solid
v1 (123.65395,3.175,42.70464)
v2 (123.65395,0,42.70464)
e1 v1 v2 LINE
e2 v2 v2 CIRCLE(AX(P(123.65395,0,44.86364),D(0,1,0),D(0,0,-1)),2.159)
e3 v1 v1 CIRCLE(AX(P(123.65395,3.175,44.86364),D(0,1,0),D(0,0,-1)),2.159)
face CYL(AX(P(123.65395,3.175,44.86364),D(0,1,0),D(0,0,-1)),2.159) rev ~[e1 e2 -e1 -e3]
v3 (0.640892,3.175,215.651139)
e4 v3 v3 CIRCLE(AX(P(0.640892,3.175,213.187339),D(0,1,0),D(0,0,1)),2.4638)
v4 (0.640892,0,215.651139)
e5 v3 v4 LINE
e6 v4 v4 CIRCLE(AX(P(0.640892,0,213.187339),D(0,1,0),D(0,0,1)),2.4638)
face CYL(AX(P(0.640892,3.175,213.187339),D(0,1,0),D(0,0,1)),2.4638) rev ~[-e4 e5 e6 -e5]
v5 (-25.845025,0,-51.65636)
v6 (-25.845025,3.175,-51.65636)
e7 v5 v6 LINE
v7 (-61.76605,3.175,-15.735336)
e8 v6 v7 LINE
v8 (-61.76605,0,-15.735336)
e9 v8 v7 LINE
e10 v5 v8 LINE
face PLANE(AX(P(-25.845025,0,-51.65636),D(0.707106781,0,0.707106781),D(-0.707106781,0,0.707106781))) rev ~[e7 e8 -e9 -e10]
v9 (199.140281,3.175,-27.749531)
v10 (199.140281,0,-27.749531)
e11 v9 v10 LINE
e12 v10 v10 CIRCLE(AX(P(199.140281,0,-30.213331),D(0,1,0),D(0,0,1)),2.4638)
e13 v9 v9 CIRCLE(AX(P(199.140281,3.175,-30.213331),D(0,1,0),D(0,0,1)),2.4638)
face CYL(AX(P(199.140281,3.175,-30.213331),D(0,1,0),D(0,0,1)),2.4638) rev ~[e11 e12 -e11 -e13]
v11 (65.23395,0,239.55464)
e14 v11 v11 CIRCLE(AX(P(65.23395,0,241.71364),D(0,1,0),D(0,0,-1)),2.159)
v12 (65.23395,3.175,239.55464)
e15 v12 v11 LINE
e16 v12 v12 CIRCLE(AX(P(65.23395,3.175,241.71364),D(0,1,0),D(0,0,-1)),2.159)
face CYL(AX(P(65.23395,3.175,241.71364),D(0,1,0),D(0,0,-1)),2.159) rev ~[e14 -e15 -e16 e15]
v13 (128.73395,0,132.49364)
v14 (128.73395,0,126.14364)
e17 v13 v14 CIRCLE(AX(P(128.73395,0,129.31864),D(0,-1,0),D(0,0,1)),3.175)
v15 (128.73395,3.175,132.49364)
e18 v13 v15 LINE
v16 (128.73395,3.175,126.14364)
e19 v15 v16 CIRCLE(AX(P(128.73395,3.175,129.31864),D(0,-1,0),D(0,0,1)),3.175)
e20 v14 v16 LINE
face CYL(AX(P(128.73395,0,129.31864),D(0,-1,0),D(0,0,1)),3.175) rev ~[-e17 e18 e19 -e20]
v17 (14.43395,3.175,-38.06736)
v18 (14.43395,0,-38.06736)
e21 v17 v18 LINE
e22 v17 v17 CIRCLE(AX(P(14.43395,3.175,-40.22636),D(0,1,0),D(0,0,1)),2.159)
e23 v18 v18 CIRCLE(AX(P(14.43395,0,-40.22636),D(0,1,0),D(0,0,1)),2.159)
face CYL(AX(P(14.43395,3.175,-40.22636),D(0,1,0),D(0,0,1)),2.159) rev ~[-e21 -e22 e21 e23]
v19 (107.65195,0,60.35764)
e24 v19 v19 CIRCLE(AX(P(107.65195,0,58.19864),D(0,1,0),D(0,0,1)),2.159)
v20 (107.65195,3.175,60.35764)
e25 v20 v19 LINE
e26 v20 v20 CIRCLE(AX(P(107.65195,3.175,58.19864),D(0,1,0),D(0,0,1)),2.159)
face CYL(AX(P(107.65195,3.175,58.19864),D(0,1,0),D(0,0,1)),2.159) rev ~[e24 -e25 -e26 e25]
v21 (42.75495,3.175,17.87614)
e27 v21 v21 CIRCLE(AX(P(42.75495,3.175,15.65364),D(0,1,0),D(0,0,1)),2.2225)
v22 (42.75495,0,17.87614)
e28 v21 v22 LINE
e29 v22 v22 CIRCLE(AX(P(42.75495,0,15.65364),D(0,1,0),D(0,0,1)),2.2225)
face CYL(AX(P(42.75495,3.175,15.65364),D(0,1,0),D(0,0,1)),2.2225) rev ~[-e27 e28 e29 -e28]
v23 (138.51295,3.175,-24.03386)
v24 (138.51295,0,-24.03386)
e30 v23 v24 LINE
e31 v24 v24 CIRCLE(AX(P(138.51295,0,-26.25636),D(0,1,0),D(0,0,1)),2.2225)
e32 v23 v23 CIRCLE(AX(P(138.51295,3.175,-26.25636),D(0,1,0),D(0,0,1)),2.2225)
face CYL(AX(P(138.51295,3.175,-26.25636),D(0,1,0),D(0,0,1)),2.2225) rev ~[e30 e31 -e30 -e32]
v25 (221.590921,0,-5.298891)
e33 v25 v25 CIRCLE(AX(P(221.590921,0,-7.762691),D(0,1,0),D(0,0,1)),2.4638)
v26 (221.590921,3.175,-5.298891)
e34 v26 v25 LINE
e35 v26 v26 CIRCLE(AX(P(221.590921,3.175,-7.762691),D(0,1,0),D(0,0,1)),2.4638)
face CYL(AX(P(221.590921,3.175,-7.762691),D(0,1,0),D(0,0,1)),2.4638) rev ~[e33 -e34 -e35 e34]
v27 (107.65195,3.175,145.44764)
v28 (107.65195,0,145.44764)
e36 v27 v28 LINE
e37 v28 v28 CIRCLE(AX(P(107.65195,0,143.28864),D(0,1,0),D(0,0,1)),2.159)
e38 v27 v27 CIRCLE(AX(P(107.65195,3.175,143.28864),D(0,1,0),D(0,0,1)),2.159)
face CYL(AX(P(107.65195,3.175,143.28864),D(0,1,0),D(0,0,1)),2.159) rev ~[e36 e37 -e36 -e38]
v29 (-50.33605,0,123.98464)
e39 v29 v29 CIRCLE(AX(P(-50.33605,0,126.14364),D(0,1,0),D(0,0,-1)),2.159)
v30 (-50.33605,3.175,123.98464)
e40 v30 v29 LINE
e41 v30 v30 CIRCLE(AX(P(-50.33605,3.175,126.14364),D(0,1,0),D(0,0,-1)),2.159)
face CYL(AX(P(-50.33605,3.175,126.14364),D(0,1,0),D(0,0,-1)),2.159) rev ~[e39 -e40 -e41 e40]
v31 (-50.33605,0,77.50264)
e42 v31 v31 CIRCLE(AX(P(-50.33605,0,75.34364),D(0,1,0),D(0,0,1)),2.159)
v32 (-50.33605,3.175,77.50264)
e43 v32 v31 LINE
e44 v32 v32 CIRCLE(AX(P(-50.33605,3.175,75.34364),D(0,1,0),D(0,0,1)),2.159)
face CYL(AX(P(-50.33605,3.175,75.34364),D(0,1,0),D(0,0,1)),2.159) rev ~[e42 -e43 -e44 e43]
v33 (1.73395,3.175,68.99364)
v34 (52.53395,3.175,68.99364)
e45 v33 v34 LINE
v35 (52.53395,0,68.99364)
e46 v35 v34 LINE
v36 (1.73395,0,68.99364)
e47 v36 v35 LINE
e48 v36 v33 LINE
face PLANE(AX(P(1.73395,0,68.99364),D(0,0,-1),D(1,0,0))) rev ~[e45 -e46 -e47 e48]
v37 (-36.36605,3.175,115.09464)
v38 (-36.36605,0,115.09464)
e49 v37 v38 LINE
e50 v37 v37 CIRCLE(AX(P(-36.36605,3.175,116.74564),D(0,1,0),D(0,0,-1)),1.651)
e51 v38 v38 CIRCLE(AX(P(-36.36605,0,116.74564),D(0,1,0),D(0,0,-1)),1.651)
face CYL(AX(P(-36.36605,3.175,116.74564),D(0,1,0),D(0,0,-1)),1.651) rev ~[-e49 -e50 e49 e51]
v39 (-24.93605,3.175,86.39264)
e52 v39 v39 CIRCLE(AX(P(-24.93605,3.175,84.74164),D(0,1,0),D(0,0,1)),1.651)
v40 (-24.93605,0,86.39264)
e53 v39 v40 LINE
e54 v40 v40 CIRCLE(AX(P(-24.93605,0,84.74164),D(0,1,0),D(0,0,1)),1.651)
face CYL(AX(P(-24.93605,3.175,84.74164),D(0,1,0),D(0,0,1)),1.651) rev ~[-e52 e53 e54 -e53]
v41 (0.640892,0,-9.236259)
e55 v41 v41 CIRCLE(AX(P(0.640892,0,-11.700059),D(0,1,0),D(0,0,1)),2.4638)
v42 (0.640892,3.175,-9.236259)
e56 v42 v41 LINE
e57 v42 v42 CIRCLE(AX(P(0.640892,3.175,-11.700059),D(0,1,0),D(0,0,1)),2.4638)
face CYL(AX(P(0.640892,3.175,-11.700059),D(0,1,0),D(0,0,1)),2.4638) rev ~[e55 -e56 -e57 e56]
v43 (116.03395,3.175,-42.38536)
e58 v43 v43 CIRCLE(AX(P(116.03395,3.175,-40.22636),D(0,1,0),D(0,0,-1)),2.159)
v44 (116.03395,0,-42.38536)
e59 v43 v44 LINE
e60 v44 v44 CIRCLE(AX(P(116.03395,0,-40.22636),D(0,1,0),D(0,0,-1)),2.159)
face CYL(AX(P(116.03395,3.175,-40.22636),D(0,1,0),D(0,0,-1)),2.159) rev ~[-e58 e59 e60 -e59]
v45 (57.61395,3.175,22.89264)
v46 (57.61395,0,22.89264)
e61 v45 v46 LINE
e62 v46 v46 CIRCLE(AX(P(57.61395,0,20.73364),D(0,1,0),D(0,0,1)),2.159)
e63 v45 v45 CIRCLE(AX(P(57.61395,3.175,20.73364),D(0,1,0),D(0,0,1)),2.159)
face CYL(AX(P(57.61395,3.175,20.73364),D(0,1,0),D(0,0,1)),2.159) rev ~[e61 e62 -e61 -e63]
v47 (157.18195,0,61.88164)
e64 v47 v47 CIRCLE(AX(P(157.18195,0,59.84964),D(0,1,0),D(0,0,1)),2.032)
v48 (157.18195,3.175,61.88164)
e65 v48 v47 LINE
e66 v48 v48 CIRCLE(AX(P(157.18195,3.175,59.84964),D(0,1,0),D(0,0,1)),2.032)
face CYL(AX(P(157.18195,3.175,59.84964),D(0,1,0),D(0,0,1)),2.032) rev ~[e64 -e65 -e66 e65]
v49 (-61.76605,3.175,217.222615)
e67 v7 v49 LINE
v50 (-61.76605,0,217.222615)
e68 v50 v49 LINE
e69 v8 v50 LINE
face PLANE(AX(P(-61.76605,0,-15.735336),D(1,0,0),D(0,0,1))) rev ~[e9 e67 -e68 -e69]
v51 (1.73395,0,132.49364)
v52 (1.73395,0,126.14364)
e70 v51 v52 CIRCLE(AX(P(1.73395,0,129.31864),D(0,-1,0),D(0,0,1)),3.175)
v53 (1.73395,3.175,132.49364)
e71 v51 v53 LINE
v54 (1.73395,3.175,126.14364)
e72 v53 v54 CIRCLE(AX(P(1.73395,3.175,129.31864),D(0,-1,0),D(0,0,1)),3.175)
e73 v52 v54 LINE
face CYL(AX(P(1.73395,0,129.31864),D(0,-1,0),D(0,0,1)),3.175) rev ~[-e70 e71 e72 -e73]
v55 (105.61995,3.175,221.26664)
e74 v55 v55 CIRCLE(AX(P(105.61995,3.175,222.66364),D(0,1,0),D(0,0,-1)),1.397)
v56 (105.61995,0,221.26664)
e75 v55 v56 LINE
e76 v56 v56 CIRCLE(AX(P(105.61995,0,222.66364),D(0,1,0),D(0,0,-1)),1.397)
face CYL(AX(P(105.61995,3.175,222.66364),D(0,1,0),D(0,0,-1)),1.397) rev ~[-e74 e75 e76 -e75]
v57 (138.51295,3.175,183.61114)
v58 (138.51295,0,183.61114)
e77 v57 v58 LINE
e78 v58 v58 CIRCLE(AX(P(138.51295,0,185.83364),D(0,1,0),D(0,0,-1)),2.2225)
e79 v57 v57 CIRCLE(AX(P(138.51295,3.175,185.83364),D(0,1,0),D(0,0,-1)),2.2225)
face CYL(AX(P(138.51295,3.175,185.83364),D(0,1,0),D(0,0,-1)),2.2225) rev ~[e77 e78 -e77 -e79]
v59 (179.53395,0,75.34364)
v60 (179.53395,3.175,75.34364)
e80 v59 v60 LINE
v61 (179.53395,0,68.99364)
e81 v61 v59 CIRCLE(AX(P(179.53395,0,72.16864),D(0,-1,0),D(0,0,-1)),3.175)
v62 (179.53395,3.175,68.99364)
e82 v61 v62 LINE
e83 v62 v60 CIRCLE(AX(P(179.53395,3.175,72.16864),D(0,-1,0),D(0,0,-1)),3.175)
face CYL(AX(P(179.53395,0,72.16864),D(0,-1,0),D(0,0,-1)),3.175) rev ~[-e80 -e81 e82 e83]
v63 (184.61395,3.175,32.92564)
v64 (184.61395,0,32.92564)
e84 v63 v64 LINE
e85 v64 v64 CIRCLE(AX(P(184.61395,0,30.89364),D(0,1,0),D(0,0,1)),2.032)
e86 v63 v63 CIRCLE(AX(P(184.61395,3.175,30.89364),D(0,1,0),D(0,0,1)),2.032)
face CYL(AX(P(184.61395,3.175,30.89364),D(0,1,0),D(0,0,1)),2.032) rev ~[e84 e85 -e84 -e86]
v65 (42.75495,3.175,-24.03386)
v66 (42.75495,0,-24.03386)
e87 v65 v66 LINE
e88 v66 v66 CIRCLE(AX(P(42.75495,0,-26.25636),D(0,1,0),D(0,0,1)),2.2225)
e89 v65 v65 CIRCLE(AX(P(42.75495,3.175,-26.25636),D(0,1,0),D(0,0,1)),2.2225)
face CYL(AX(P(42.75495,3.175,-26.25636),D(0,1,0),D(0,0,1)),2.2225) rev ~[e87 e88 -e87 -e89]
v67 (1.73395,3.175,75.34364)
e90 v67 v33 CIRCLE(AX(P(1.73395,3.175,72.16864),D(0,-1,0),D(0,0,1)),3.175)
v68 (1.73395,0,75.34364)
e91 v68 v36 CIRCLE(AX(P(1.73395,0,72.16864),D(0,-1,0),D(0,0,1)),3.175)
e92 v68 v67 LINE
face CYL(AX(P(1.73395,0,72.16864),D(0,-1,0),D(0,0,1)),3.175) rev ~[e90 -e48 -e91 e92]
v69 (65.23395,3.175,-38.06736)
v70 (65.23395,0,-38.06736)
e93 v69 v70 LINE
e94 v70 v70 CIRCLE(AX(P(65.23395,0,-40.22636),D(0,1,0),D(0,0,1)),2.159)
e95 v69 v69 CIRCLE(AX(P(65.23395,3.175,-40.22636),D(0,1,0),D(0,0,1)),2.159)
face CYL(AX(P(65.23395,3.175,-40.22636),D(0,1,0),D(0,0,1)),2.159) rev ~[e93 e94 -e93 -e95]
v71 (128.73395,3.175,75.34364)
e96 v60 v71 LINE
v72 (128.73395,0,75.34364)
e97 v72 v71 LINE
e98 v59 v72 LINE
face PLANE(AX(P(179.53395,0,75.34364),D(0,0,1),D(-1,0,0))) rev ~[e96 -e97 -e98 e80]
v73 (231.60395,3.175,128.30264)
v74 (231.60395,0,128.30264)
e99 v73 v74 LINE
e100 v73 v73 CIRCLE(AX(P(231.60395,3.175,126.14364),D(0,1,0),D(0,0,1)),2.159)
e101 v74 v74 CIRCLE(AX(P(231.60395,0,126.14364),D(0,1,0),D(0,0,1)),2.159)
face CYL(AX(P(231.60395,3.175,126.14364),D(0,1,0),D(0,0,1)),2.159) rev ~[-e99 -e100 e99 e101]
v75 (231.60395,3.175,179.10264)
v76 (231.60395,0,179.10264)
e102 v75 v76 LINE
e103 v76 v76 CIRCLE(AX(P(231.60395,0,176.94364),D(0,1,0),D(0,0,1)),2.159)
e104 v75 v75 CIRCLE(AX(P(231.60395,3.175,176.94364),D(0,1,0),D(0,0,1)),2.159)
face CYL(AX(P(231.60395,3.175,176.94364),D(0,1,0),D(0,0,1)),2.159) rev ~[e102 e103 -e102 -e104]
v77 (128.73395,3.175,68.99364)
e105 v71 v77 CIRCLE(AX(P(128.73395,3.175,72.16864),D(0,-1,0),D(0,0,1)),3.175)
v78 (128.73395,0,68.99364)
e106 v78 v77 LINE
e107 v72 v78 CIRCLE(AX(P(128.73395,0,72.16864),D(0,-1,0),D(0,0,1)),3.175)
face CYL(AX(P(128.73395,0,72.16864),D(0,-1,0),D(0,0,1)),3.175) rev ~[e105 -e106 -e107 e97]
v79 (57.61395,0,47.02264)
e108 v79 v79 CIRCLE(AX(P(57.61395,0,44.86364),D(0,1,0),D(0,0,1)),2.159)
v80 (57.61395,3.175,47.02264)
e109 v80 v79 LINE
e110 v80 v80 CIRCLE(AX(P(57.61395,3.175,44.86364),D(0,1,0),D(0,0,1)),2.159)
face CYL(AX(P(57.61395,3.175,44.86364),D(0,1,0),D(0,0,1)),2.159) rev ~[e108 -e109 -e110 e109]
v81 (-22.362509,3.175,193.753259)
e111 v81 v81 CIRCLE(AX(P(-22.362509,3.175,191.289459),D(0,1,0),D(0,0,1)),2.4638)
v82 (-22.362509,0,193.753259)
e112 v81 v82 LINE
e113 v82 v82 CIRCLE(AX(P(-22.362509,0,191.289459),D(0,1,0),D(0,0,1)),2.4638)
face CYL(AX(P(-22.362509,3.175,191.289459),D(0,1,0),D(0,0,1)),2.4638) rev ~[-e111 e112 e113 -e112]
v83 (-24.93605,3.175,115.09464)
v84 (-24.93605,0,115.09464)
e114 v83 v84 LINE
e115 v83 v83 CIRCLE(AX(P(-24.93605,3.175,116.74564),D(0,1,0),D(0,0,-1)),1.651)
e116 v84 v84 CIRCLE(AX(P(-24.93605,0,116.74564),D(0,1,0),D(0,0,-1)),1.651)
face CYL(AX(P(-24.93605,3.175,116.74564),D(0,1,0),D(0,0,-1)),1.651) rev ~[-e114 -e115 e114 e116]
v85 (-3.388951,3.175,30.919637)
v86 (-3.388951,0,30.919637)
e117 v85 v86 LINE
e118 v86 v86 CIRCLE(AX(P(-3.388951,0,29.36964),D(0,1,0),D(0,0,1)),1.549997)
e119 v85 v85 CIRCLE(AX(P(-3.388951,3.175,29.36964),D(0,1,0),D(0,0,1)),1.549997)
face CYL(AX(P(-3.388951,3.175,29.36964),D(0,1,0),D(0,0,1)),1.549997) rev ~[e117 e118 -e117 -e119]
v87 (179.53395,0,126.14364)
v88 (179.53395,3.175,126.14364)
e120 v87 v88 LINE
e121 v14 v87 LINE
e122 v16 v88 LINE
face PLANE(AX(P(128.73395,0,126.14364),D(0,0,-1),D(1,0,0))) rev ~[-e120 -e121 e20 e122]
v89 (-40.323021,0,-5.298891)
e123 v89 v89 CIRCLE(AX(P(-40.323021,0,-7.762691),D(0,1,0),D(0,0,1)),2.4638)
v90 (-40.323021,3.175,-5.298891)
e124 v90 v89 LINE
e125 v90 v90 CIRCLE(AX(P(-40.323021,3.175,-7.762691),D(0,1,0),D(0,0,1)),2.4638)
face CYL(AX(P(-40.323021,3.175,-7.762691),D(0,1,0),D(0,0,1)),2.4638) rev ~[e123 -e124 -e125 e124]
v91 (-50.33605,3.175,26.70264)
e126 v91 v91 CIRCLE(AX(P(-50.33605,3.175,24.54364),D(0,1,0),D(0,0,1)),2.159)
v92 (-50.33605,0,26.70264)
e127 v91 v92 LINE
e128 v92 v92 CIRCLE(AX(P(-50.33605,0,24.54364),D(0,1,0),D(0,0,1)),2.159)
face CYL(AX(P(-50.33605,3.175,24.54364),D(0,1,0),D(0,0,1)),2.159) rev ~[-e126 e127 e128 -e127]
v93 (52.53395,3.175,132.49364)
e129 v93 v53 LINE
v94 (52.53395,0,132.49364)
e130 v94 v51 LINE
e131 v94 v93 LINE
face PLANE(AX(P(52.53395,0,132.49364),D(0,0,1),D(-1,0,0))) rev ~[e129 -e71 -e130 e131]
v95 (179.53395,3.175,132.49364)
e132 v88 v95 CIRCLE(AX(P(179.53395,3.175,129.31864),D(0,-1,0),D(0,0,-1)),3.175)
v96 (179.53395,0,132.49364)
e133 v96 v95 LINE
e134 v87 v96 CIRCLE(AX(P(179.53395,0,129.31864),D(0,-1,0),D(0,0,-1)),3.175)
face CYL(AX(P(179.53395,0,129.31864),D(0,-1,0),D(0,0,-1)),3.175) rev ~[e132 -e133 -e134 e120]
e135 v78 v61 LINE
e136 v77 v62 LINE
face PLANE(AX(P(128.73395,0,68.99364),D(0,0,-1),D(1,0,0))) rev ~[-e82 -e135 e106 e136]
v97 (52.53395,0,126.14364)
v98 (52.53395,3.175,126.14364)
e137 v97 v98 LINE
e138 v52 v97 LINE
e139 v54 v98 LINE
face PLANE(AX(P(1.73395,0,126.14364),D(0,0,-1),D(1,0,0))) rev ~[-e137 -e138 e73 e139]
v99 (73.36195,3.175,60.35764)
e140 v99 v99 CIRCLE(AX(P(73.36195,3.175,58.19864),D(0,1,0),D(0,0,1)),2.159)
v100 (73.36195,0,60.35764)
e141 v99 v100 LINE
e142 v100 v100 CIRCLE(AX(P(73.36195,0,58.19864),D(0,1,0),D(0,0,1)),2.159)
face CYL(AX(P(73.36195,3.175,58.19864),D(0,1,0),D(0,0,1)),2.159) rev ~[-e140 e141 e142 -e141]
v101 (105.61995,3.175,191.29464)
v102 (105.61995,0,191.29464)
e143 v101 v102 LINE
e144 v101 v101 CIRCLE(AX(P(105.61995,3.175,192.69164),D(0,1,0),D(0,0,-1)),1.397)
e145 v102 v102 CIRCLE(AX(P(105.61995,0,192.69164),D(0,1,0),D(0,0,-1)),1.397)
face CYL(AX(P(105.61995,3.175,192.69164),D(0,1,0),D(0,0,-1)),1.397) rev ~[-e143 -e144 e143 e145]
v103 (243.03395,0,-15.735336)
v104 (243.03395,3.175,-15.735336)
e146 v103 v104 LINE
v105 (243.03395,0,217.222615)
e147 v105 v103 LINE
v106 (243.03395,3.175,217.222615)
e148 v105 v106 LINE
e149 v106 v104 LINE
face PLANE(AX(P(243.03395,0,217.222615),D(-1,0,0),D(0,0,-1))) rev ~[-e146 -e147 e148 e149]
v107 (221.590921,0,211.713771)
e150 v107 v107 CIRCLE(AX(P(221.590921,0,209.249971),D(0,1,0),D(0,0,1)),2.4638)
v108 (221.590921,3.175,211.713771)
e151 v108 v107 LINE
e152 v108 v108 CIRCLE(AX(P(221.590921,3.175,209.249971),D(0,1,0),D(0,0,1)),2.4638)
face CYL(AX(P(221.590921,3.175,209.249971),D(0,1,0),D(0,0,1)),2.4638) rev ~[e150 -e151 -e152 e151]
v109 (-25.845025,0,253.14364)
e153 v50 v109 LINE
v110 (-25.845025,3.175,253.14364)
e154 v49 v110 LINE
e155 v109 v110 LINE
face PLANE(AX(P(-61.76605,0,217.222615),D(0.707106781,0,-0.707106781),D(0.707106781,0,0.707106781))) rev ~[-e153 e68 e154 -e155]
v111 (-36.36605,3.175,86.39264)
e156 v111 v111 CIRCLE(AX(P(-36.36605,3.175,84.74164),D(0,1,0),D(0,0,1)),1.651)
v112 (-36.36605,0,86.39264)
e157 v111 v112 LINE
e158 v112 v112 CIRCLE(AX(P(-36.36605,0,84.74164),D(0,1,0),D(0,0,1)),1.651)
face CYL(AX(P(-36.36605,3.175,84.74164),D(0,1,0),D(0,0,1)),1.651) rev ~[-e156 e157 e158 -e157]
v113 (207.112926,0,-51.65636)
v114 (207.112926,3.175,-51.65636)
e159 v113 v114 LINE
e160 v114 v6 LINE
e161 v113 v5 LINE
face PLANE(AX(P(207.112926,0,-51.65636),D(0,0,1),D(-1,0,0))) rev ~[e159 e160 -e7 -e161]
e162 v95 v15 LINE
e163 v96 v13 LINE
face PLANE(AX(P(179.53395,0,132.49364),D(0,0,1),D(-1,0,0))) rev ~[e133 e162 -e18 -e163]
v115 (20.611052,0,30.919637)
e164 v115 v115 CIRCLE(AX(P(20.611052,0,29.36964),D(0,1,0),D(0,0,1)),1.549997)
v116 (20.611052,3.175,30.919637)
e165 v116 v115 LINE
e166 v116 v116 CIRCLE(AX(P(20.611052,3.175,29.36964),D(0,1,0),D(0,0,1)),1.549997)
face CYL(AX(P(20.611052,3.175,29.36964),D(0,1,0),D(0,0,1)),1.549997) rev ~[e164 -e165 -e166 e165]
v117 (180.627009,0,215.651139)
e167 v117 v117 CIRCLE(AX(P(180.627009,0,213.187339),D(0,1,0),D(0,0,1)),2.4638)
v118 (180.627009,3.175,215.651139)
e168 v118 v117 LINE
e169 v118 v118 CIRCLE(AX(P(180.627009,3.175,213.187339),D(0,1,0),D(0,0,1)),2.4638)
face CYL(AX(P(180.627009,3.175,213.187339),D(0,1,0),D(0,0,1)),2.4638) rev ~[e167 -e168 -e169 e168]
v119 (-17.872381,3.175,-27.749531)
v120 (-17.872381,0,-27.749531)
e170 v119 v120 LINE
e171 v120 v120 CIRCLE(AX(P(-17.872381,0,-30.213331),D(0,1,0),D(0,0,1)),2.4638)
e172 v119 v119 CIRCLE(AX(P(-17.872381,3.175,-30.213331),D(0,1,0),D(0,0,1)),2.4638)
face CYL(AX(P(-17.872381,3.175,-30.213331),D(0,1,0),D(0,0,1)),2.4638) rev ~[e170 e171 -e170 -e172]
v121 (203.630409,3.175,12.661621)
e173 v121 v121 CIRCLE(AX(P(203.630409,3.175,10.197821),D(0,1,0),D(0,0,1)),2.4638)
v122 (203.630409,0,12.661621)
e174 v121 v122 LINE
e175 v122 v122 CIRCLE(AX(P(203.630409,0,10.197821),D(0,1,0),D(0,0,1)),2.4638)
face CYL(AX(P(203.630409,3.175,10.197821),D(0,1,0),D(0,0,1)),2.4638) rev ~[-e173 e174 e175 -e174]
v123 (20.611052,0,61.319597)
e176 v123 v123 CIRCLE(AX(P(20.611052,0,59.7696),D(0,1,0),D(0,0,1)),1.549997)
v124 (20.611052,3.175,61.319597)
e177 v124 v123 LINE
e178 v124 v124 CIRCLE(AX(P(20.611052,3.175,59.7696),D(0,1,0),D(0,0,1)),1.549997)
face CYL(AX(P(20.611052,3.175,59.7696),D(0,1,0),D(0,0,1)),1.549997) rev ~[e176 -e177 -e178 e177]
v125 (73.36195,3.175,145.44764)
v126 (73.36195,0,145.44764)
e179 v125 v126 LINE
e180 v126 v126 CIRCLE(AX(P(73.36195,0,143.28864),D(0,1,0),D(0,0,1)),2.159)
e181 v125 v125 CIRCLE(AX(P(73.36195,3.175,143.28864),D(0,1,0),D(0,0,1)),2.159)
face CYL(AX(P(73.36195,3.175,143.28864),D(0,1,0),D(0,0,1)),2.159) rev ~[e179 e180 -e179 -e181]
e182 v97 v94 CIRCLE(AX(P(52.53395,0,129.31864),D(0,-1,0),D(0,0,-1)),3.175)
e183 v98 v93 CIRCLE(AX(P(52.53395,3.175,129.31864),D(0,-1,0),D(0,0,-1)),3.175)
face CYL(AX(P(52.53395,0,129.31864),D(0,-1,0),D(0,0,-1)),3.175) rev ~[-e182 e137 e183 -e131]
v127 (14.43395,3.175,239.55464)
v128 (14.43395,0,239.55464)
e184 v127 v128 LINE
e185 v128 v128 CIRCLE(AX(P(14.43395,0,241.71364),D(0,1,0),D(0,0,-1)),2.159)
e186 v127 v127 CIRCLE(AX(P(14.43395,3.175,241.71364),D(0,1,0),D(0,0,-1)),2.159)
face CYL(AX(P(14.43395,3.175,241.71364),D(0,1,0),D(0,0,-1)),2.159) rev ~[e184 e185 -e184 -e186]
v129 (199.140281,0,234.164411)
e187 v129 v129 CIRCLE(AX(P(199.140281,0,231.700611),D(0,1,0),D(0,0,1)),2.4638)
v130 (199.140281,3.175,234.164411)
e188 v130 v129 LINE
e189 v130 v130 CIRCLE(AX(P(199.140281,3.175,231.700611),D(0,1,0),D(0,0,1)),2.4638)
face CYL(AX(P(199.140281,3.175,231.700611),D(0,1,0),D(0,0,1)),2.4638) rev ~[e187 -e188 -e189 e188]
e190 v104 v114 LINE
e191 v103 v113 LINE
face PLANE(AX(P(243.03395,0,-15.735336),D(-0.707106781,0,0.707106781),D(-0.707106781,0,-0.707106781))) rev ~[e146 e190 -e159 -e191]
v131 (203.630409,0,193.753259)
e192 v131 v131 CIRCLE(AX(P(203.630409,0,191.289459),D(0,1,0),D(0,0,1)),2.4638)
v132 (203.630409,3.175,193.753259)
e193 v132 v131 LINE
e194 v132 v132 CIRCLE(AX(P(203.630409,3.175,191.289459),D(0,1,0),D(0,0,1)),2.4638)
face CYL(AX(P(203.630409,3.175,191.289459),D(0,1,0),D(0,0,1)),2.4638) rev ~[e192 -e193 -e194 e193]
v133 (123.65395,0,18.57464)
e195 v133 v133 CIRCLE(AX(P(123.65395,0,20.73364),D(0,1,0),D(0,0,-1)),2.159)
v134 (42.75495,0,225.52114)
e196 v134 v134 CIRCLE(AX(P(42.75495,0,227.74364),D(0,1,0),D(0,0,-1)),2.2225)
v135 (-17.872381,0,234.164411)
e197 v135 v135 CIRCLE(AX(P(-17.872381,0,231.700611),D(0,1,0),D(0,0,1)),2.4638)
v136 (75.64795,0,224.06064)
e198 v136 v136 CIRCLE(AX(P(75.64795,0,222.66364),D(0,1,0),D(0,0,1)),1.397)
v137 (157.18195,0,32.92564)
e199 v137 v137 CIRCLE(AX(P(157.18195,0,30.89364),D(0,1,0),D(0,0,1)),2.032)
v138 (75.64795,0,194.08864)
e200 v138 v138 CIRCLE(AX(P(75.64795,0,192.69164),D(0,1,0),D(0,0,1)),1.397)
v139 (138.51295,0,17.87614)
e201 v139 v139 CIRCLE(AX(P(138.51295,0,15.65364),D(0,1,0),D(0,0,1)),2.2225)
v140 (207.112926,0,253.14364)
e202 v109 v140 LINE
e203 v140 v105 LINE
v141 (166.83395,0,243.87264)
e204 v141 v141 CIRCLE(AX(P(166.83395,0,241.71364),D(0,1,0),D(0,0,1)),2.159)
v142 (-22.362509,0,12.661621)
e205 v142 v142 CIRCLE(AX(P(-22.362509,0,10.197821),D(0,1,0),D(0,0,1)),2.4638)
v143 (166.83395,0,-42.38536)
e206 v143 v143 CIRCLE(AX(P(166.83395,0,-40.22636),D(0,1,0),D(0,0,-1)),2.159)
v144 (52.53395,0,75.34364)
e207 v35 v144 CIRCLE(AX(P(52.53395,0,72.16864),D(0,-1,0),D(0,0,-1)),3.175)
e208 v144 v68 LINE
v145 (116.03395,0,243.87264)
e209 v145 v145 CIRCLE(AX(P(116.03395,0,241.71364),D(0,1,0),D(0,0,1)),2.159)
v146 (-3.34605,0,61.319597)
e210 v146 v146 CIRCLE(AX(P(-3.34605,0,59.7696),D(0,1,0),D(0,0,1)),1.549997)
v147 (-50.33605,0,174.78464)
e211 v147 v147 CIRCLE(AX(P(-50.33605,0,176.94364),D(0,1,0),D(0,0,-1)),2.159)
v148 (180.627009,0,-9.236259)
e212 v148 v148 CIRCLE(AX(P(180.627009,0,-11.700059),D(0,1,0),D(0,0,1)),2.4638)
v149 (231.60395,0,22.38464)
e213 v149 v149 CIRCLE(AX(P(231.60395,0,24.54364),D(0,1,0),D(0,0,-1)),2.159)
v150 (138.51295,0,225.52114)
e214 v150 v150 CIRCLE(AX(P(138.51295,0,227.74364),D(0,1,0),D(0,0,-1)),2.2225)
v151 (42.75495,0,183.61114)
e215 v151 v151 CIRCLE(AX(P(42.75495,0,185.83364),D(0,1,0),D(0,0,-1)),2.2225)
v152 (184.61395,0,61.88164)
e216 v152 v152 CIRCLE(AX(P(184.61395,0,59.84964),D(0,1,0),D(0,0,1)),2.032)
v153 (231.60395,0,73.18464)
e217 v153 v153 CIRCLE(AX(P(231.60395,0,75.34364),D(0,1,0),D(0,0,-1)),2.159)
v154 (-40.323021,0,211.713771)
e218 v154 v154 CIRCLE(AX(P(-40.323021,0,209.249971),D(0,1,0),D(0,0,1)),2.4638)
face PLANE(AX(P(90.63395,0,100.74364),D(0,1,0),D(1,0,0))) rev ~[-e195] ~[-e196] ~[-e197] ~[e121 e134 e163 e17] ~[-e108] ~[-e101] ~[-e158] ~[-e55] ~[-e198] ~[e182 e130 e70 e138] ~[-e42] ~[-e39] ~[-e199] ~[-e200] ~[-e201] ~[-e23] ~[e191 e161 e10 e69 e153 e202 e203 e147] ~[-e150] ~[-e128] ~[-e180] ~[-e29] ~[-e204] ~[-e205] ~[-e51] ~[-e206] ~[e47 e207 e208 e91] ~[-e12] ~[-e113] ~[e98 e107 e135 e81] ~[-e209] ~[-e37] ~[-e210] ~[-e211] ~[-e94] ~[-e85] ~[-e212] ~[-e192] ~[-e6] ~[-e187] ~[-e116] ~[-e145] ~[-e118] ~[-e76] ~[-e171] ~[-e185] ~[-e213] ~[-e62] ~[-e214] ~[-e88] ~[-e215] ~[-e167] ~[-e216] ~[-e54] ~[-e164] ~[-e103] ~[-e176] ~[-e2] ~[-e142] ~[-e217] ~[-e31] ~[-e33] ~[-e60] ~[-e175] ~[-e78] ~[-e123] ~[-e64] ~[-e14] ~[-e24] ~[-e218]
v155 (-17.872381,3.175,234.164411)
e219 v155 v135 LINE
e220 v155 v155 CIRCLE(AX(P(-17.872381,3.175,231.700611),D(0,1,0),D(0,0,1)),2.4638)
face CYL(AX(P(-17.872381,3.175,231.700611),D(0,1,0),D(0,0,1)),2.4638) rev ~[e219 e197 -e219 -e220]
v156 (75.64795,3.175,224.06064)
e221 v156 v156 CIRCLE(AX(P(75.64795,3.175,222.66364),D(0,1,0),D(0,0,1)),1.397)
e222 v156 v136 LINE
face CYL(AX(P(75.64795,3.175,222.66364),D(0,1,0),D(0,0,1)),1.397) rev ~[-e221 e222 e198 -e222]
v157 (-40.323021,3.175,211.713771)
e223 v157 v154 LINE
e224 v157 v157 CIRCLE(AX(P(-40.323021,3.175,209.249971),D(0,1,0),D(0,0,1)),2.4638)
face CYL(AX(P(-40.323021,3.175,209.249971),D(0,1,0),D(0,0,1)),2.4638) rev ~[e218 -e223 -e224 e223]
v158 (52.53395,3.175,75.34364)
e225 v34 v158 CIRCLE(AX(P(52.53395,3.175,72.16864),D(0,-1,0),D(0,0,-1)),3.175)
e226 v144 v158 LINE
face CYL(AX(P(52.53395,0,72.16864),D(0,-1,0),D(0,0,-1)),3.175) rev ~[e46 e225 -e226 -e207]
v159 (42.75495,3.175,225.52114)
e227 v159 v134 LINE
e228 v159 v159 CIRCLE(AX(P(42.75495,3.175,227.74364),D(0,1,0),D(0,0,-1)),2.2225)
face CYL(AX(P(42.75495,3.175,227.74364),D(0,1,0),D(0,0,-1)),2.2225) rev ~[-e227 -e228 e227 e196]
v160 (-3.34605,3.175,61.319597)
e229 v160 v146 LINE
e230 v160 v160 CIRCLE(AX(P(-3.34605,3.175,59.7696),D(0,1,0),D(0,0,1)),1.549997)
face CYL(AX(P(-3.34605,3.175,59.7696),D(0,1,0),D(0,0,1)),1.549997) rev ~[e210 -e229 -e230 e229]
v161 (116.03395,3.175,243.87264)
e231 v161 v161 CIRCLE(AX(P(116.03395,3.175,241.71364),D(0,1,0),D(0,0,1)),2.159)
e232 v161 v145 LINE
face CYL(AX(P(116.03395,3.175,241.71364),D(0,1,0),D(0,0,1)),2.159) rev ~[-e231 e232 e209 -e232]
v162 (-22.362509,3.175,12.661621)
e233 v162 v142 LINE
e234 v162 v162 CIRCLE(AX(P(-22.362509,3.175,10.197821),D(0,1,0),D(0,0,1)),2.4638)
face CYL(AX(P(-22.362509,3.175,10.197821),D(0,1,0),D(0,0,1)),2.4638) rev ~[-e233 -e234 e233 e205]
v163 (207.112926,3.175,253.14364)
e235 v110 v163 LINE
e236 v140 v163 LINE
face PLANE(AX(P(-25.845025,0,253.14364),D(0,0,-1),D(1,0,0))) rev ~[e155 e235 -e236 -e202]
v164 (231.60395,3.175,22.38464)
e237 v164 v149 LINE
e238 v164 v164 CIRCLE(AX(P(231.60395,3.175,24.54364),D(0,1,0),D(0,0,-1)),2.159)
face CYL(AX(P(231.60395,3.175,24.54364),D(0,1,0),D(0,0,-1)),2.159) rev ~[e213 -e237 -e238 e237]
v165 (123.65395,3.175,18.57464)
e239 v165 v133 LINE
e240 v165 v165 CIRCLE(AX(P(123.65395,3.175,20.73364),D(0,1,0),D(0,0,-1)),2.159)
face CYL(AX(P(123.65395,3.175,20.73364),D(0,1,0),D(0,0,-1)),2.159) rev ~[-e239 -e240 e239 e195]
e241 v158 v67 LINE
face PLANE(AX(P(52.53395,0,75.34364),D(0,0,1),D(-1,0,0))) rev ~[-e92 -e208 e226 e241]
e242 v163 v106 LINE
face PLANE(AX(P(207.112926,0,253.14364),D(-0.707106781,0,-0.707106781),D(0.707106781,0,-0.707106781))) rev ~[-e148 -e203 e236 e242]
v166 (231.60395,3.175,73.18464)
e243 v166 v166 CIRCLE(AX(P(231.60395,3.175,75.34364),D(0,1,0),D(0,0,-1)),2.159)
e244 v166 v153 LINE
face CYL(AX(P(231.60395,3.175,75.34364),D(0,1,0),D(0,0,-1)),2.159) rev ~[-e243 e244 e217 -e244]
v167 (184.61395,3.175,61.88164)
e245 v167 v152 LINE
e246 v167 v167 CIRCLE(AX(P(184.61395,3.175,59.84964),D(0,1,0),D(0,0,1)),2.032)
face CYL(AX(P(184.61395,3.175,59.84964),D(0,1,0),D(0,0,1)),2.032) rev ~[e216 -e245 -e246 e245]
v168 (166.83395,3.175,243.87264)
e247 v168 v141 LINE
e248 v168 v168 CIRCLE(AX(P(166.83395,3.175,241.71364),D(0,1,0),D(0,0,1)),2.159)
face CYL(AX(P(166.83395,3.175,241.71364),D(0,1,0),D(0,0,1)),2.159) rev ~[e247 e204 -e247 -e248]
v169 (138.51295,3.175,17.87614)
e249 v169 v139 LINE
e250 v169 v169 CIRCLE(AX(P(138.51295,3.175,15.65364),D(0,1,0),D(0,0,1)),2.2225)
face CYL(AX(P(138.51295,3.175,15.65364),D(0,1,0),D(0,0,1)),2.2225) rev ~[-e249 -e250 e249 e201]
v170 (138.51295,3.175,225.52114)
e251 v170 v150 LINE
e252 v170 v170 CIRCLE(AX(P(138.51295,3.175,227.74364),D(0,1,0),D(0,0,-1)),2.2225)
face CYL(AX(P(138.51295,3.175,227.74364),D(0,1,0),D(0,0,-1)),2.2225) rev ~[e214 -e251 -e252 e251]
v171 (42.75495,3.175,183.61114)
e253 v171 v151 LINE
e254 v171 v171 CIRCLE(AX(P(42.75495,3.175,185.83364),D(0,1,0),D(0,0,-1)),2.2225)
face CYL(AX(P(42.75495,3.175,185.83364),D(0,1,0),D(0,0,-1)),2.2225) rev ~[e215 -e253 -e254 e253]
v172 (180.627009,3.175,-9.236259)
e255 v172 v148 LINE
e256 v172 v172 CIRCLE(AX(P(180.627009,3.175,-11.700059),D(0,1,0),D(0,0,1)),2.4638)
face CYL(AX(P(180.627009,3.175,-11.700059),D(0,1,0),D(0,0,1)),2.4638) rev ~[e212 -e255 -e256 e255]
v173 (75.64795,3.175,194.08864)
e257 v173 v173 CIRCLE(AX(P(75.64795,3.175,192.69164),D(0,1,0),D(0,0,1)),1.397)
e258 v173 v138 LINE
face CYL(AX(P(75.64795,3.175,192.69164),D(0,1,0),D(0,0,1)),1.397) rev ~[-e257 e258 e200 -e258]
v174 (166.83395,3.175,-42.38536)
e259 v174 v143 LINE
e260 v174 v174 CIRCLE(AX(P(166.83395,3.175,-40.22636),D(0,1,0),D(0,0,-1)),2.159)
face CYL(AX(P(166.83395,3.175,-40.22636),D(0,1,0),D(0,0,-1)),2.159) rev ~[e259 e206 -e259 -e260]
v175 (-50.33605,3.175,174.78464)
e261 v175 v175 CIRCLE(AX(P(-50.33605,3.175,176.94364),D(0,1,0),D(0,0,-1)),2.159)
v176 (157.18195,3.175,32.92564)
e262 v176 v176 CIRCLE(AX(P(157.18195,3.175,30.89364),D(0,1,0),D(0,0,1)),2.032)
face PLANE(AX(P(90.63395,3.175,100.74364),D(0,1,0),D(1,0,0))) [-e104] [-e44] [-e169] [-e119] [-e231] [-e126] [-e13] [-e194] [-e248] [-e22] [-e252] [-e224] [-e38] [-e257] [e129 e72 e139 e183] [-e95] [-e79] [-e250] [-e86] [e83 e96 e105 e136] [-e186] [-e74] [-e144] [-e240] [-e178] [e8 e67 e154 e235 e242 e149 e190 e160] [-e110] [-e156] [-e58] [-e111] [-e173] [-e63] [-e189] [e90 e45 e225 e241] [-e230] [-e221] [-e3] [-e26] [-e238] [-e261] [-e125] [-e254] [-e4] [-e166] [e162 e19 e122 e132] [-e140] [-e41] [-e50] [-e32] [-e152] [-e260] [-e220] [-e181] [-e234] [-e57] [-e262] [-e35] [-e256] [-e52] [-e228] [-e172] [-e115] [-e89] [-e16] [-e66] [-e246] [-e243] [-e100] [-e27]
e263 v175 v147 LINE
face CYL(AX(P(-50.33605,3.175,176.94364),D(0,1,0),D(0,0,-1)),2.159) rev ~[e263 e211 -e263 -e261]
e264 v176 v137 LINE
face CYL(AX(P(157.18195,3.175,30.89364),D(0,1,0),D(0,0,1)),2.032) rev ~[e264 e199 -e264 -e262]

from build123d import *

# Parameters (mm, degrees)
BOSS_EXTRUDE1_DEPTH = 3.175
SKETCH2_R           = 2.4638
CUT_EXTRUDE1_DEPTH  = 6.35
SKETCH3_R           = 2.159
CUT_EXTRUDE2_DEPTH  = 6.35
SKETCH4_R           = 2.2225
CUT_EXTRUDE3_DEPTH  = 351.937720963
SKETCH5_R           = 1.651
CUT_EXTRUDE4_DEPTH  = 351.937720963
SKETCH6_R           = 2.032
SKETCH6_R_2         = 2.159
SKETCH6_R_3         = 1.397
SKETCH6_R_4         = 1.5499969
CUT_EXTRUDE5_DEPTH  = 351.937720963
SKETCH7_R           = 2.159
CUT_EXTRUDE6_DEPTH  = 351.937720963


with BuildPart() as part:
    # Sketch1 → Boss-Extrude1 (new body)
    with BuildSketch(Plane(origin=(0, 0, 0), x_dir=(1, 0, 0), z_dir=(0, 1, 0))):
        Polygon((-25.845025354, 51.656360067), (-61.766049839, 15.735335583), (-61.766049839, -217.222615449), (-25.845025354, -253.143639933), (207.112925677, -253.143639933), (243.033950161, -217.222615449), (243.033950161, 15.735335583), (207.112925677, 51.656360067), align=None)
        with BuildLine():
            ThreePointArc((52.533950161, -126.143639933), (55.708950161, -129.318639933), (52.533950161, -132.493639933))
            Line((52.533950161, -132.493639933), (1.733950161, -132.493639933))
            ThreePointArc((1.733950161, -132.493639933), (-1.441049839, -129.318639933), (1.733950161, -126.143639933))
            Line((1.733950161, -126.143639933), (52.533950161, -126.143639933))
        make_face(mode=Mode.SUBTRACT)
        with BuildLine():
            Line((179.533950161, -132.493639933), (128.733950161, -132.493639933))
            ThreePointArc((128.733950161, -132.493639933), (125.558950161, -129.318639933), (128.733950161, -126.143639933))
            Line((128.733950161, -126.143639933), (179.533950161, -126.143639933))
            ThreePointArc((179.533950161, -126.143639933), (182.708950161, -129.318639933), (179.533950161, -132.493639933))
        make_face(mode=Mode.SUBTRACT)
        with BuildLine():
            Line((1.733950161, -68.993639933), (52.533950161, -68.993639933))
            ThreePointArc((52.533950161, -68.993639933), (55.708950161, -72.168639933), (52.533950161, -75.343639933))
            Line((52.533950161, -75.343639933), (1.733950161, -75.343639933))
            ThreePointArc((1.733950161, -75.343639933), (-1.441049839, -72.168639933), (1.733950161, -68.993639933))
        make_face(mode=Mode.SUBTRACT)
        with BuildLine():
            ThreePointArc((128.733950161, -75.343639933), (125.558950161, -72.168639933), (128.733950161, -68.993639933))
            Line((128.733950161, -68.993639933), (179.533950161, -68.993639933))
            ThreePointArc((179.533950161, -68.993639933), (182.708950161, -72.168639933), (179.533950161, -75.343639933))
            Line((179.533950161, -75.343639933), (128.733950161, -75.343639933))
        make_face(mode=Mode.SUBTRACT)
    extrude(amount=BOSS_EXTRUDE1_DEPTH)

    # Sketch2 → Cut-Extrude1 (cut)
    with BuildSketch(Plane(origin=(0, 3.175, 0), x_dir=(1, 0, 0), z_dir=(0, 1, 0))):
        with Locations(Location((-17.872380726, 30.213331256, 0), (0, 0, 270))):
            Circle(SKETCH2_R)
        with Locations(Location((0.640891541, 11.70005899, 0), (0, 0, 270))):
            Circle(SKETCH2_R)
        with Locations(Location((-22.362508786, -10.197821288, 0), (0, 0, 270))):
            Circle(SKETCH2_R)
        with Locations(Location((-40.323021028, 7.762690954, 0), (0, 0, 270))):
            Circle(SKETCH2_R)
        with Locations(Location((203.630409109, -10.197821288, 0), (0, 0, 270))):
            Circle(SKETCH2_R)
        with Locations(Location((221.590921351, 7.762690954, 0), (0, 0, 270))):
            Circle(SKETCH2_R)
        with Locations(Location((180.627008782, 11.70005899, 0), (0, 0, 270))):
            Circle(SKETCH2_R)
        with Locations(Location((199.140281048, 30.213331256, 0), (0, 0, 270))):
            Circle(SKETCH2_R)
        with Locations(Location((-22.362508786, -191.289458578, 0), (0, 0, 270))):
            Circle(SKETCH2_R)
        with Locations(Location((-40.323021028, -209.24997082, 0), (0, 0, 270))):
            Circle(SKETCH2_R)
        with Locations(Location((-17.872380726, -231.700611123, 0), (0, 0, 270))):
            Circle(SKETCH2_R)
        with Locations(Location((0.640891541, -213.187338857, 0), (0, 0, 270))):
            Circle(SKETCH2_R)
        with Locations(Location((221.590921351, -209.24997082, 0), (0, 0, 270))):
            Circle(SKETCH2_R)
        with Locations(Location((199.140281048, -231.700611123, 0), (0, 0, 270))):
            Circle(SKETCH2_R)
        with Locations(Location((180.627008782, -213.187338857, 0), (0, 0, 270))):
            Circle(SKETCH2_R)
        with Locations(Location((203.630409109, -191.289458578, 0), (0, 0, 270))):
            Circle(SKETCH2_R)
    extrude(amount=-CUT_EXTRUDE1_DEPTH, mode=Mode.SUBTRACT)

    # Sketch3 → Cut-Extrude2 (cut)
    with BuildSketch(Plane(origin=(0, 3.175, 0), x_dir=(1, 0, 0), z_dir=(0, 1, 0))):
        with Locations(Location((73.361950161, -58.198639933, 0), (0, 0, 270))):
            Circle(SKETCH3_R)
        with Locations(Location((107.651950161, -58.198639933, 0), (0, 0, 270))):
            Circle(SKETCH3_R)
        with Locations(Location((73.361950161, -143.288639933, 0), (0, 0, 270))):
            Circle(SKETCH3_R)
        with Locations(Location((107.651950161, -143.288639933, 0), (0, 0, 270))):
            Circle(SKETCH3_R)
    extrude(amount=-CUT_EXTRUDE2_DEPTH, mode=Mode.SUBTRACT)

    # Sketch4 → Cut-Extrude3 (cut, through all)
    with BuildSketch(Plane(origin=(0, 3.175, 0), x_dir=(1, 0, 0), z_dir=(0, 1, 0))):
        with Locations(Location((42.754950161, 26.256360067, 0), (0, 0, 270))):
            Circle(SKETCH4_R)
        with Locations(Location((138.512950161, 26.256360067, 0), (0, 0, 270))):
            Circle(SKETCH4_R)
        with Locations(Location((42.754950161, -15.653639933, 0), (0, 0, 270))):
            Circle(SKETCH4_R)
        with Locations(Location((138.512950161, -15.653639933, 0), (0, 0, 270))):
            Circle(SKETCH4_R)
        with Locations(Location((138.512950161, -185.833639933, 0), (0, 0, 90))):
            Circle(SKETCH4_R)
        with Locations(Location((42.754950161, -185.833639933, 0), (0, 0, 90))):
            Circle(SKETCH4_R)
        with Locations(Location((138.512950161, -227.743639933, 0), (0, 0, 90))):
            Circle(SKETCH4_R)
        with Locations(Location((42.754950161, -227.743639933, 0), (0, 0, 90))):
            Circle(SKETCH4_R)
    extrude(amount=-CUT_EXTRUDE3_DEPTH, mode=Mode.SUBTRACT)

    # Sketch5 → Cut-Extrude4 (cut, through all)
    with BuildSketch(Plane(origin=(0, 3.175, 0), x_dir=(1, 0, 0), z_dir=(0, 1, 0))):
        with Locations(Location((-36.366049839, -84.741639933, 0), (0, 0, 270))):
            Circle(SKETCH5_R)
        with Locations(Location((-24.936049839, -84.741639933, 0), (0, 0, 270))):
            Circle(SKETCH5_R)
        with Locations(Location((-24.936049839, -116.745639933, 0), (0, 0, 90))):
            Circle(SKETCH5_R)
        with Locations(Location((-36.366049839, -116.745639933, 0), (0, 0, 90))):
            Circle(SKETCH5_R)
    extrude(amount=-CUT_EXTRUDE4_DEPTH, mode=Mode.SUBTRACT)

    # Sketch6 → Cut-Extrude5 (cut, through all)
    with BuildSketch(Plane(origin=(0, 3.175, 0), x_dir=(1, 0, 0), z_dir=(0, 1, 0))):
        with Locations(Location((157.181950161, -30.893639933, 0), (0, 0, 270))):
            Circle(SKETCH6_R)
        with Locations(Location((157.181950161, -59.849639933, 0), (0, 0, 270))):
            Circle(SKETCH6_R)
        with Locations(Location((184.613950161, -59.849639933, 0), (0, 0, 270))):
            Circle(SKETCH6_R)
        with Locations(Location((184.613950161, -30.893639933, 0), (0, 0, 270))):
            Circle(SKETCH6_R)
        with Locations(Location((57.613950161, -20.733639933, 0), (0, 0, 270))):
            Circle(SKETCH6_R_2)
        with Locations(Location((57.613950161, -44.863639933, 0), (0, 0, 270))):
            Circle(SKETCH6_R_2)
        with Locations(Location((123.653950161, -44.863639933, 0), (0, 0, 90))):
            Circle(SKETCH6_R_2)
        with Locations(Location((123.653950161, -20.733639933, 0), (0, 0, 90))):
            Circle(SKETCH6_R_2)
        with Locations(Location((75.647950161, -192.691639933, 0), (0, 0, 270))):
            Circle(SKETCH6_R_3)
        with Locations(Location((75.647950161, -222.663639933, 0), (0, 0, 270))):
            Circle(SKETCH6_R_3)
        with Locations(Location((105.619950161, -222.663639933, 0), (0, 0, 90))):
            Circle(SKETCH6_R_3)
        with Locations(Location((105.619950161, -192.691639933, 0), (0, 0, 90))):
            Circle(SKETCH6_R_3)
        with Locations(Location((-3.388950787, -29.369639933, 0), (0, 0, 270))):
            Circle(SKETCH6_R_4)
        with Locations(Location((-3.346049839, -59.769599662, 0), (0, 0, 270))):
            Circle(SKETCH6_R_4)
        with Locations(Location((20.611052013, -29.369639933, 0), (0, 0, 270))):
            Circle(SKETCH6_R_4)
        with Locations(Location((20.611052013, -59.769599662, 0), (0, 0, 270))):
            Circle(SKETCH6_R_4)
    extrude(amount=-CUT_EXTRUDE5_DEPTH, mode=Mode.SUBTRACT)

    # Sketch7 → Cut-Extrude6 (cut, through all)
    with BuildSketch(Plane(origin=(0, 3.175, 0), x_dir=(1, 0, 0), z_dir=(0, 1, 0))):
        with Locations(Location((65.233950161, 40.226360067, 0), (0, 0, 270))):
            Circle(SKETCH7_R)
        with Locations(Location((14.433950161, 40.226360067, 0), (0, 0, 270))):
            Circle(SKETCH7_R)
        with Locations(Location((-50.336049839, -75.343639933, 0), (0, 0, 270))):
            Circle(SKETCH7_R)
        with Locations(Location((-50.336049839, -24.543639933, 0), (0, 0, 270))):
            Circle(SKETCH7_R)
        with Locations(Location((231.603950161, -24.543639933, 0), (0, 0, 90))):
            Circle(SKETCH7_R)
        with Locations(Location((231.603950161, -75.343639933, 0), (0, 0, 90))):
            Circle(SKETCH7_R)
        with Locations(Location((166.833950161, 40.226360067, 0), (0, 0, 90))):
            Circle(SKETCH7_R)
        with Locations(Location((116.033950161, 40.226360067, 0), (0, 0, 90))):
            Circle(SKETCH7_R)
        with Locations(Location((116.033950161, -241.713639933, 0), (0, 0, 270))):
            Circle(SKETCH7_R)
        with Locations(Location((166.833950161, -241.713639933, 0), (0, 0, 270))):
            Circle(SKETCH7_R)
        with Locations(Location((231.603950161, -126.143639933, 0), (0, 0, 270))):
            Circle(SKETCH7_R)
        with Locations(Location((231.603950161, -176.943639933, 0), (0, 0, 270))):
            Circle(SKETCH7_R)
        with Locations(Location((-50.336049839, -176.943639933, 0), (0, 0, 90))):
            Circle(SKETCH7_R)
        with Locations(Location((-50.336049839, -126.143639933, 0), (0, 0, 90))):
            Circle(SKETCH7_R)
        with Locations(Location((14.433950161, -241.713639933, 0), (0, 0, 90))):
            Circle(SKETCH7_R)
        with Locations(Location((65.233950161, -241.713639933, 0), (0, 0, 90))):
            Circle(SKETCH7_R)
    extrude(amount=-CUT_EXTRUDE6_DEPTH, mode=Mode.SUBTRACT)


solid = part.part
